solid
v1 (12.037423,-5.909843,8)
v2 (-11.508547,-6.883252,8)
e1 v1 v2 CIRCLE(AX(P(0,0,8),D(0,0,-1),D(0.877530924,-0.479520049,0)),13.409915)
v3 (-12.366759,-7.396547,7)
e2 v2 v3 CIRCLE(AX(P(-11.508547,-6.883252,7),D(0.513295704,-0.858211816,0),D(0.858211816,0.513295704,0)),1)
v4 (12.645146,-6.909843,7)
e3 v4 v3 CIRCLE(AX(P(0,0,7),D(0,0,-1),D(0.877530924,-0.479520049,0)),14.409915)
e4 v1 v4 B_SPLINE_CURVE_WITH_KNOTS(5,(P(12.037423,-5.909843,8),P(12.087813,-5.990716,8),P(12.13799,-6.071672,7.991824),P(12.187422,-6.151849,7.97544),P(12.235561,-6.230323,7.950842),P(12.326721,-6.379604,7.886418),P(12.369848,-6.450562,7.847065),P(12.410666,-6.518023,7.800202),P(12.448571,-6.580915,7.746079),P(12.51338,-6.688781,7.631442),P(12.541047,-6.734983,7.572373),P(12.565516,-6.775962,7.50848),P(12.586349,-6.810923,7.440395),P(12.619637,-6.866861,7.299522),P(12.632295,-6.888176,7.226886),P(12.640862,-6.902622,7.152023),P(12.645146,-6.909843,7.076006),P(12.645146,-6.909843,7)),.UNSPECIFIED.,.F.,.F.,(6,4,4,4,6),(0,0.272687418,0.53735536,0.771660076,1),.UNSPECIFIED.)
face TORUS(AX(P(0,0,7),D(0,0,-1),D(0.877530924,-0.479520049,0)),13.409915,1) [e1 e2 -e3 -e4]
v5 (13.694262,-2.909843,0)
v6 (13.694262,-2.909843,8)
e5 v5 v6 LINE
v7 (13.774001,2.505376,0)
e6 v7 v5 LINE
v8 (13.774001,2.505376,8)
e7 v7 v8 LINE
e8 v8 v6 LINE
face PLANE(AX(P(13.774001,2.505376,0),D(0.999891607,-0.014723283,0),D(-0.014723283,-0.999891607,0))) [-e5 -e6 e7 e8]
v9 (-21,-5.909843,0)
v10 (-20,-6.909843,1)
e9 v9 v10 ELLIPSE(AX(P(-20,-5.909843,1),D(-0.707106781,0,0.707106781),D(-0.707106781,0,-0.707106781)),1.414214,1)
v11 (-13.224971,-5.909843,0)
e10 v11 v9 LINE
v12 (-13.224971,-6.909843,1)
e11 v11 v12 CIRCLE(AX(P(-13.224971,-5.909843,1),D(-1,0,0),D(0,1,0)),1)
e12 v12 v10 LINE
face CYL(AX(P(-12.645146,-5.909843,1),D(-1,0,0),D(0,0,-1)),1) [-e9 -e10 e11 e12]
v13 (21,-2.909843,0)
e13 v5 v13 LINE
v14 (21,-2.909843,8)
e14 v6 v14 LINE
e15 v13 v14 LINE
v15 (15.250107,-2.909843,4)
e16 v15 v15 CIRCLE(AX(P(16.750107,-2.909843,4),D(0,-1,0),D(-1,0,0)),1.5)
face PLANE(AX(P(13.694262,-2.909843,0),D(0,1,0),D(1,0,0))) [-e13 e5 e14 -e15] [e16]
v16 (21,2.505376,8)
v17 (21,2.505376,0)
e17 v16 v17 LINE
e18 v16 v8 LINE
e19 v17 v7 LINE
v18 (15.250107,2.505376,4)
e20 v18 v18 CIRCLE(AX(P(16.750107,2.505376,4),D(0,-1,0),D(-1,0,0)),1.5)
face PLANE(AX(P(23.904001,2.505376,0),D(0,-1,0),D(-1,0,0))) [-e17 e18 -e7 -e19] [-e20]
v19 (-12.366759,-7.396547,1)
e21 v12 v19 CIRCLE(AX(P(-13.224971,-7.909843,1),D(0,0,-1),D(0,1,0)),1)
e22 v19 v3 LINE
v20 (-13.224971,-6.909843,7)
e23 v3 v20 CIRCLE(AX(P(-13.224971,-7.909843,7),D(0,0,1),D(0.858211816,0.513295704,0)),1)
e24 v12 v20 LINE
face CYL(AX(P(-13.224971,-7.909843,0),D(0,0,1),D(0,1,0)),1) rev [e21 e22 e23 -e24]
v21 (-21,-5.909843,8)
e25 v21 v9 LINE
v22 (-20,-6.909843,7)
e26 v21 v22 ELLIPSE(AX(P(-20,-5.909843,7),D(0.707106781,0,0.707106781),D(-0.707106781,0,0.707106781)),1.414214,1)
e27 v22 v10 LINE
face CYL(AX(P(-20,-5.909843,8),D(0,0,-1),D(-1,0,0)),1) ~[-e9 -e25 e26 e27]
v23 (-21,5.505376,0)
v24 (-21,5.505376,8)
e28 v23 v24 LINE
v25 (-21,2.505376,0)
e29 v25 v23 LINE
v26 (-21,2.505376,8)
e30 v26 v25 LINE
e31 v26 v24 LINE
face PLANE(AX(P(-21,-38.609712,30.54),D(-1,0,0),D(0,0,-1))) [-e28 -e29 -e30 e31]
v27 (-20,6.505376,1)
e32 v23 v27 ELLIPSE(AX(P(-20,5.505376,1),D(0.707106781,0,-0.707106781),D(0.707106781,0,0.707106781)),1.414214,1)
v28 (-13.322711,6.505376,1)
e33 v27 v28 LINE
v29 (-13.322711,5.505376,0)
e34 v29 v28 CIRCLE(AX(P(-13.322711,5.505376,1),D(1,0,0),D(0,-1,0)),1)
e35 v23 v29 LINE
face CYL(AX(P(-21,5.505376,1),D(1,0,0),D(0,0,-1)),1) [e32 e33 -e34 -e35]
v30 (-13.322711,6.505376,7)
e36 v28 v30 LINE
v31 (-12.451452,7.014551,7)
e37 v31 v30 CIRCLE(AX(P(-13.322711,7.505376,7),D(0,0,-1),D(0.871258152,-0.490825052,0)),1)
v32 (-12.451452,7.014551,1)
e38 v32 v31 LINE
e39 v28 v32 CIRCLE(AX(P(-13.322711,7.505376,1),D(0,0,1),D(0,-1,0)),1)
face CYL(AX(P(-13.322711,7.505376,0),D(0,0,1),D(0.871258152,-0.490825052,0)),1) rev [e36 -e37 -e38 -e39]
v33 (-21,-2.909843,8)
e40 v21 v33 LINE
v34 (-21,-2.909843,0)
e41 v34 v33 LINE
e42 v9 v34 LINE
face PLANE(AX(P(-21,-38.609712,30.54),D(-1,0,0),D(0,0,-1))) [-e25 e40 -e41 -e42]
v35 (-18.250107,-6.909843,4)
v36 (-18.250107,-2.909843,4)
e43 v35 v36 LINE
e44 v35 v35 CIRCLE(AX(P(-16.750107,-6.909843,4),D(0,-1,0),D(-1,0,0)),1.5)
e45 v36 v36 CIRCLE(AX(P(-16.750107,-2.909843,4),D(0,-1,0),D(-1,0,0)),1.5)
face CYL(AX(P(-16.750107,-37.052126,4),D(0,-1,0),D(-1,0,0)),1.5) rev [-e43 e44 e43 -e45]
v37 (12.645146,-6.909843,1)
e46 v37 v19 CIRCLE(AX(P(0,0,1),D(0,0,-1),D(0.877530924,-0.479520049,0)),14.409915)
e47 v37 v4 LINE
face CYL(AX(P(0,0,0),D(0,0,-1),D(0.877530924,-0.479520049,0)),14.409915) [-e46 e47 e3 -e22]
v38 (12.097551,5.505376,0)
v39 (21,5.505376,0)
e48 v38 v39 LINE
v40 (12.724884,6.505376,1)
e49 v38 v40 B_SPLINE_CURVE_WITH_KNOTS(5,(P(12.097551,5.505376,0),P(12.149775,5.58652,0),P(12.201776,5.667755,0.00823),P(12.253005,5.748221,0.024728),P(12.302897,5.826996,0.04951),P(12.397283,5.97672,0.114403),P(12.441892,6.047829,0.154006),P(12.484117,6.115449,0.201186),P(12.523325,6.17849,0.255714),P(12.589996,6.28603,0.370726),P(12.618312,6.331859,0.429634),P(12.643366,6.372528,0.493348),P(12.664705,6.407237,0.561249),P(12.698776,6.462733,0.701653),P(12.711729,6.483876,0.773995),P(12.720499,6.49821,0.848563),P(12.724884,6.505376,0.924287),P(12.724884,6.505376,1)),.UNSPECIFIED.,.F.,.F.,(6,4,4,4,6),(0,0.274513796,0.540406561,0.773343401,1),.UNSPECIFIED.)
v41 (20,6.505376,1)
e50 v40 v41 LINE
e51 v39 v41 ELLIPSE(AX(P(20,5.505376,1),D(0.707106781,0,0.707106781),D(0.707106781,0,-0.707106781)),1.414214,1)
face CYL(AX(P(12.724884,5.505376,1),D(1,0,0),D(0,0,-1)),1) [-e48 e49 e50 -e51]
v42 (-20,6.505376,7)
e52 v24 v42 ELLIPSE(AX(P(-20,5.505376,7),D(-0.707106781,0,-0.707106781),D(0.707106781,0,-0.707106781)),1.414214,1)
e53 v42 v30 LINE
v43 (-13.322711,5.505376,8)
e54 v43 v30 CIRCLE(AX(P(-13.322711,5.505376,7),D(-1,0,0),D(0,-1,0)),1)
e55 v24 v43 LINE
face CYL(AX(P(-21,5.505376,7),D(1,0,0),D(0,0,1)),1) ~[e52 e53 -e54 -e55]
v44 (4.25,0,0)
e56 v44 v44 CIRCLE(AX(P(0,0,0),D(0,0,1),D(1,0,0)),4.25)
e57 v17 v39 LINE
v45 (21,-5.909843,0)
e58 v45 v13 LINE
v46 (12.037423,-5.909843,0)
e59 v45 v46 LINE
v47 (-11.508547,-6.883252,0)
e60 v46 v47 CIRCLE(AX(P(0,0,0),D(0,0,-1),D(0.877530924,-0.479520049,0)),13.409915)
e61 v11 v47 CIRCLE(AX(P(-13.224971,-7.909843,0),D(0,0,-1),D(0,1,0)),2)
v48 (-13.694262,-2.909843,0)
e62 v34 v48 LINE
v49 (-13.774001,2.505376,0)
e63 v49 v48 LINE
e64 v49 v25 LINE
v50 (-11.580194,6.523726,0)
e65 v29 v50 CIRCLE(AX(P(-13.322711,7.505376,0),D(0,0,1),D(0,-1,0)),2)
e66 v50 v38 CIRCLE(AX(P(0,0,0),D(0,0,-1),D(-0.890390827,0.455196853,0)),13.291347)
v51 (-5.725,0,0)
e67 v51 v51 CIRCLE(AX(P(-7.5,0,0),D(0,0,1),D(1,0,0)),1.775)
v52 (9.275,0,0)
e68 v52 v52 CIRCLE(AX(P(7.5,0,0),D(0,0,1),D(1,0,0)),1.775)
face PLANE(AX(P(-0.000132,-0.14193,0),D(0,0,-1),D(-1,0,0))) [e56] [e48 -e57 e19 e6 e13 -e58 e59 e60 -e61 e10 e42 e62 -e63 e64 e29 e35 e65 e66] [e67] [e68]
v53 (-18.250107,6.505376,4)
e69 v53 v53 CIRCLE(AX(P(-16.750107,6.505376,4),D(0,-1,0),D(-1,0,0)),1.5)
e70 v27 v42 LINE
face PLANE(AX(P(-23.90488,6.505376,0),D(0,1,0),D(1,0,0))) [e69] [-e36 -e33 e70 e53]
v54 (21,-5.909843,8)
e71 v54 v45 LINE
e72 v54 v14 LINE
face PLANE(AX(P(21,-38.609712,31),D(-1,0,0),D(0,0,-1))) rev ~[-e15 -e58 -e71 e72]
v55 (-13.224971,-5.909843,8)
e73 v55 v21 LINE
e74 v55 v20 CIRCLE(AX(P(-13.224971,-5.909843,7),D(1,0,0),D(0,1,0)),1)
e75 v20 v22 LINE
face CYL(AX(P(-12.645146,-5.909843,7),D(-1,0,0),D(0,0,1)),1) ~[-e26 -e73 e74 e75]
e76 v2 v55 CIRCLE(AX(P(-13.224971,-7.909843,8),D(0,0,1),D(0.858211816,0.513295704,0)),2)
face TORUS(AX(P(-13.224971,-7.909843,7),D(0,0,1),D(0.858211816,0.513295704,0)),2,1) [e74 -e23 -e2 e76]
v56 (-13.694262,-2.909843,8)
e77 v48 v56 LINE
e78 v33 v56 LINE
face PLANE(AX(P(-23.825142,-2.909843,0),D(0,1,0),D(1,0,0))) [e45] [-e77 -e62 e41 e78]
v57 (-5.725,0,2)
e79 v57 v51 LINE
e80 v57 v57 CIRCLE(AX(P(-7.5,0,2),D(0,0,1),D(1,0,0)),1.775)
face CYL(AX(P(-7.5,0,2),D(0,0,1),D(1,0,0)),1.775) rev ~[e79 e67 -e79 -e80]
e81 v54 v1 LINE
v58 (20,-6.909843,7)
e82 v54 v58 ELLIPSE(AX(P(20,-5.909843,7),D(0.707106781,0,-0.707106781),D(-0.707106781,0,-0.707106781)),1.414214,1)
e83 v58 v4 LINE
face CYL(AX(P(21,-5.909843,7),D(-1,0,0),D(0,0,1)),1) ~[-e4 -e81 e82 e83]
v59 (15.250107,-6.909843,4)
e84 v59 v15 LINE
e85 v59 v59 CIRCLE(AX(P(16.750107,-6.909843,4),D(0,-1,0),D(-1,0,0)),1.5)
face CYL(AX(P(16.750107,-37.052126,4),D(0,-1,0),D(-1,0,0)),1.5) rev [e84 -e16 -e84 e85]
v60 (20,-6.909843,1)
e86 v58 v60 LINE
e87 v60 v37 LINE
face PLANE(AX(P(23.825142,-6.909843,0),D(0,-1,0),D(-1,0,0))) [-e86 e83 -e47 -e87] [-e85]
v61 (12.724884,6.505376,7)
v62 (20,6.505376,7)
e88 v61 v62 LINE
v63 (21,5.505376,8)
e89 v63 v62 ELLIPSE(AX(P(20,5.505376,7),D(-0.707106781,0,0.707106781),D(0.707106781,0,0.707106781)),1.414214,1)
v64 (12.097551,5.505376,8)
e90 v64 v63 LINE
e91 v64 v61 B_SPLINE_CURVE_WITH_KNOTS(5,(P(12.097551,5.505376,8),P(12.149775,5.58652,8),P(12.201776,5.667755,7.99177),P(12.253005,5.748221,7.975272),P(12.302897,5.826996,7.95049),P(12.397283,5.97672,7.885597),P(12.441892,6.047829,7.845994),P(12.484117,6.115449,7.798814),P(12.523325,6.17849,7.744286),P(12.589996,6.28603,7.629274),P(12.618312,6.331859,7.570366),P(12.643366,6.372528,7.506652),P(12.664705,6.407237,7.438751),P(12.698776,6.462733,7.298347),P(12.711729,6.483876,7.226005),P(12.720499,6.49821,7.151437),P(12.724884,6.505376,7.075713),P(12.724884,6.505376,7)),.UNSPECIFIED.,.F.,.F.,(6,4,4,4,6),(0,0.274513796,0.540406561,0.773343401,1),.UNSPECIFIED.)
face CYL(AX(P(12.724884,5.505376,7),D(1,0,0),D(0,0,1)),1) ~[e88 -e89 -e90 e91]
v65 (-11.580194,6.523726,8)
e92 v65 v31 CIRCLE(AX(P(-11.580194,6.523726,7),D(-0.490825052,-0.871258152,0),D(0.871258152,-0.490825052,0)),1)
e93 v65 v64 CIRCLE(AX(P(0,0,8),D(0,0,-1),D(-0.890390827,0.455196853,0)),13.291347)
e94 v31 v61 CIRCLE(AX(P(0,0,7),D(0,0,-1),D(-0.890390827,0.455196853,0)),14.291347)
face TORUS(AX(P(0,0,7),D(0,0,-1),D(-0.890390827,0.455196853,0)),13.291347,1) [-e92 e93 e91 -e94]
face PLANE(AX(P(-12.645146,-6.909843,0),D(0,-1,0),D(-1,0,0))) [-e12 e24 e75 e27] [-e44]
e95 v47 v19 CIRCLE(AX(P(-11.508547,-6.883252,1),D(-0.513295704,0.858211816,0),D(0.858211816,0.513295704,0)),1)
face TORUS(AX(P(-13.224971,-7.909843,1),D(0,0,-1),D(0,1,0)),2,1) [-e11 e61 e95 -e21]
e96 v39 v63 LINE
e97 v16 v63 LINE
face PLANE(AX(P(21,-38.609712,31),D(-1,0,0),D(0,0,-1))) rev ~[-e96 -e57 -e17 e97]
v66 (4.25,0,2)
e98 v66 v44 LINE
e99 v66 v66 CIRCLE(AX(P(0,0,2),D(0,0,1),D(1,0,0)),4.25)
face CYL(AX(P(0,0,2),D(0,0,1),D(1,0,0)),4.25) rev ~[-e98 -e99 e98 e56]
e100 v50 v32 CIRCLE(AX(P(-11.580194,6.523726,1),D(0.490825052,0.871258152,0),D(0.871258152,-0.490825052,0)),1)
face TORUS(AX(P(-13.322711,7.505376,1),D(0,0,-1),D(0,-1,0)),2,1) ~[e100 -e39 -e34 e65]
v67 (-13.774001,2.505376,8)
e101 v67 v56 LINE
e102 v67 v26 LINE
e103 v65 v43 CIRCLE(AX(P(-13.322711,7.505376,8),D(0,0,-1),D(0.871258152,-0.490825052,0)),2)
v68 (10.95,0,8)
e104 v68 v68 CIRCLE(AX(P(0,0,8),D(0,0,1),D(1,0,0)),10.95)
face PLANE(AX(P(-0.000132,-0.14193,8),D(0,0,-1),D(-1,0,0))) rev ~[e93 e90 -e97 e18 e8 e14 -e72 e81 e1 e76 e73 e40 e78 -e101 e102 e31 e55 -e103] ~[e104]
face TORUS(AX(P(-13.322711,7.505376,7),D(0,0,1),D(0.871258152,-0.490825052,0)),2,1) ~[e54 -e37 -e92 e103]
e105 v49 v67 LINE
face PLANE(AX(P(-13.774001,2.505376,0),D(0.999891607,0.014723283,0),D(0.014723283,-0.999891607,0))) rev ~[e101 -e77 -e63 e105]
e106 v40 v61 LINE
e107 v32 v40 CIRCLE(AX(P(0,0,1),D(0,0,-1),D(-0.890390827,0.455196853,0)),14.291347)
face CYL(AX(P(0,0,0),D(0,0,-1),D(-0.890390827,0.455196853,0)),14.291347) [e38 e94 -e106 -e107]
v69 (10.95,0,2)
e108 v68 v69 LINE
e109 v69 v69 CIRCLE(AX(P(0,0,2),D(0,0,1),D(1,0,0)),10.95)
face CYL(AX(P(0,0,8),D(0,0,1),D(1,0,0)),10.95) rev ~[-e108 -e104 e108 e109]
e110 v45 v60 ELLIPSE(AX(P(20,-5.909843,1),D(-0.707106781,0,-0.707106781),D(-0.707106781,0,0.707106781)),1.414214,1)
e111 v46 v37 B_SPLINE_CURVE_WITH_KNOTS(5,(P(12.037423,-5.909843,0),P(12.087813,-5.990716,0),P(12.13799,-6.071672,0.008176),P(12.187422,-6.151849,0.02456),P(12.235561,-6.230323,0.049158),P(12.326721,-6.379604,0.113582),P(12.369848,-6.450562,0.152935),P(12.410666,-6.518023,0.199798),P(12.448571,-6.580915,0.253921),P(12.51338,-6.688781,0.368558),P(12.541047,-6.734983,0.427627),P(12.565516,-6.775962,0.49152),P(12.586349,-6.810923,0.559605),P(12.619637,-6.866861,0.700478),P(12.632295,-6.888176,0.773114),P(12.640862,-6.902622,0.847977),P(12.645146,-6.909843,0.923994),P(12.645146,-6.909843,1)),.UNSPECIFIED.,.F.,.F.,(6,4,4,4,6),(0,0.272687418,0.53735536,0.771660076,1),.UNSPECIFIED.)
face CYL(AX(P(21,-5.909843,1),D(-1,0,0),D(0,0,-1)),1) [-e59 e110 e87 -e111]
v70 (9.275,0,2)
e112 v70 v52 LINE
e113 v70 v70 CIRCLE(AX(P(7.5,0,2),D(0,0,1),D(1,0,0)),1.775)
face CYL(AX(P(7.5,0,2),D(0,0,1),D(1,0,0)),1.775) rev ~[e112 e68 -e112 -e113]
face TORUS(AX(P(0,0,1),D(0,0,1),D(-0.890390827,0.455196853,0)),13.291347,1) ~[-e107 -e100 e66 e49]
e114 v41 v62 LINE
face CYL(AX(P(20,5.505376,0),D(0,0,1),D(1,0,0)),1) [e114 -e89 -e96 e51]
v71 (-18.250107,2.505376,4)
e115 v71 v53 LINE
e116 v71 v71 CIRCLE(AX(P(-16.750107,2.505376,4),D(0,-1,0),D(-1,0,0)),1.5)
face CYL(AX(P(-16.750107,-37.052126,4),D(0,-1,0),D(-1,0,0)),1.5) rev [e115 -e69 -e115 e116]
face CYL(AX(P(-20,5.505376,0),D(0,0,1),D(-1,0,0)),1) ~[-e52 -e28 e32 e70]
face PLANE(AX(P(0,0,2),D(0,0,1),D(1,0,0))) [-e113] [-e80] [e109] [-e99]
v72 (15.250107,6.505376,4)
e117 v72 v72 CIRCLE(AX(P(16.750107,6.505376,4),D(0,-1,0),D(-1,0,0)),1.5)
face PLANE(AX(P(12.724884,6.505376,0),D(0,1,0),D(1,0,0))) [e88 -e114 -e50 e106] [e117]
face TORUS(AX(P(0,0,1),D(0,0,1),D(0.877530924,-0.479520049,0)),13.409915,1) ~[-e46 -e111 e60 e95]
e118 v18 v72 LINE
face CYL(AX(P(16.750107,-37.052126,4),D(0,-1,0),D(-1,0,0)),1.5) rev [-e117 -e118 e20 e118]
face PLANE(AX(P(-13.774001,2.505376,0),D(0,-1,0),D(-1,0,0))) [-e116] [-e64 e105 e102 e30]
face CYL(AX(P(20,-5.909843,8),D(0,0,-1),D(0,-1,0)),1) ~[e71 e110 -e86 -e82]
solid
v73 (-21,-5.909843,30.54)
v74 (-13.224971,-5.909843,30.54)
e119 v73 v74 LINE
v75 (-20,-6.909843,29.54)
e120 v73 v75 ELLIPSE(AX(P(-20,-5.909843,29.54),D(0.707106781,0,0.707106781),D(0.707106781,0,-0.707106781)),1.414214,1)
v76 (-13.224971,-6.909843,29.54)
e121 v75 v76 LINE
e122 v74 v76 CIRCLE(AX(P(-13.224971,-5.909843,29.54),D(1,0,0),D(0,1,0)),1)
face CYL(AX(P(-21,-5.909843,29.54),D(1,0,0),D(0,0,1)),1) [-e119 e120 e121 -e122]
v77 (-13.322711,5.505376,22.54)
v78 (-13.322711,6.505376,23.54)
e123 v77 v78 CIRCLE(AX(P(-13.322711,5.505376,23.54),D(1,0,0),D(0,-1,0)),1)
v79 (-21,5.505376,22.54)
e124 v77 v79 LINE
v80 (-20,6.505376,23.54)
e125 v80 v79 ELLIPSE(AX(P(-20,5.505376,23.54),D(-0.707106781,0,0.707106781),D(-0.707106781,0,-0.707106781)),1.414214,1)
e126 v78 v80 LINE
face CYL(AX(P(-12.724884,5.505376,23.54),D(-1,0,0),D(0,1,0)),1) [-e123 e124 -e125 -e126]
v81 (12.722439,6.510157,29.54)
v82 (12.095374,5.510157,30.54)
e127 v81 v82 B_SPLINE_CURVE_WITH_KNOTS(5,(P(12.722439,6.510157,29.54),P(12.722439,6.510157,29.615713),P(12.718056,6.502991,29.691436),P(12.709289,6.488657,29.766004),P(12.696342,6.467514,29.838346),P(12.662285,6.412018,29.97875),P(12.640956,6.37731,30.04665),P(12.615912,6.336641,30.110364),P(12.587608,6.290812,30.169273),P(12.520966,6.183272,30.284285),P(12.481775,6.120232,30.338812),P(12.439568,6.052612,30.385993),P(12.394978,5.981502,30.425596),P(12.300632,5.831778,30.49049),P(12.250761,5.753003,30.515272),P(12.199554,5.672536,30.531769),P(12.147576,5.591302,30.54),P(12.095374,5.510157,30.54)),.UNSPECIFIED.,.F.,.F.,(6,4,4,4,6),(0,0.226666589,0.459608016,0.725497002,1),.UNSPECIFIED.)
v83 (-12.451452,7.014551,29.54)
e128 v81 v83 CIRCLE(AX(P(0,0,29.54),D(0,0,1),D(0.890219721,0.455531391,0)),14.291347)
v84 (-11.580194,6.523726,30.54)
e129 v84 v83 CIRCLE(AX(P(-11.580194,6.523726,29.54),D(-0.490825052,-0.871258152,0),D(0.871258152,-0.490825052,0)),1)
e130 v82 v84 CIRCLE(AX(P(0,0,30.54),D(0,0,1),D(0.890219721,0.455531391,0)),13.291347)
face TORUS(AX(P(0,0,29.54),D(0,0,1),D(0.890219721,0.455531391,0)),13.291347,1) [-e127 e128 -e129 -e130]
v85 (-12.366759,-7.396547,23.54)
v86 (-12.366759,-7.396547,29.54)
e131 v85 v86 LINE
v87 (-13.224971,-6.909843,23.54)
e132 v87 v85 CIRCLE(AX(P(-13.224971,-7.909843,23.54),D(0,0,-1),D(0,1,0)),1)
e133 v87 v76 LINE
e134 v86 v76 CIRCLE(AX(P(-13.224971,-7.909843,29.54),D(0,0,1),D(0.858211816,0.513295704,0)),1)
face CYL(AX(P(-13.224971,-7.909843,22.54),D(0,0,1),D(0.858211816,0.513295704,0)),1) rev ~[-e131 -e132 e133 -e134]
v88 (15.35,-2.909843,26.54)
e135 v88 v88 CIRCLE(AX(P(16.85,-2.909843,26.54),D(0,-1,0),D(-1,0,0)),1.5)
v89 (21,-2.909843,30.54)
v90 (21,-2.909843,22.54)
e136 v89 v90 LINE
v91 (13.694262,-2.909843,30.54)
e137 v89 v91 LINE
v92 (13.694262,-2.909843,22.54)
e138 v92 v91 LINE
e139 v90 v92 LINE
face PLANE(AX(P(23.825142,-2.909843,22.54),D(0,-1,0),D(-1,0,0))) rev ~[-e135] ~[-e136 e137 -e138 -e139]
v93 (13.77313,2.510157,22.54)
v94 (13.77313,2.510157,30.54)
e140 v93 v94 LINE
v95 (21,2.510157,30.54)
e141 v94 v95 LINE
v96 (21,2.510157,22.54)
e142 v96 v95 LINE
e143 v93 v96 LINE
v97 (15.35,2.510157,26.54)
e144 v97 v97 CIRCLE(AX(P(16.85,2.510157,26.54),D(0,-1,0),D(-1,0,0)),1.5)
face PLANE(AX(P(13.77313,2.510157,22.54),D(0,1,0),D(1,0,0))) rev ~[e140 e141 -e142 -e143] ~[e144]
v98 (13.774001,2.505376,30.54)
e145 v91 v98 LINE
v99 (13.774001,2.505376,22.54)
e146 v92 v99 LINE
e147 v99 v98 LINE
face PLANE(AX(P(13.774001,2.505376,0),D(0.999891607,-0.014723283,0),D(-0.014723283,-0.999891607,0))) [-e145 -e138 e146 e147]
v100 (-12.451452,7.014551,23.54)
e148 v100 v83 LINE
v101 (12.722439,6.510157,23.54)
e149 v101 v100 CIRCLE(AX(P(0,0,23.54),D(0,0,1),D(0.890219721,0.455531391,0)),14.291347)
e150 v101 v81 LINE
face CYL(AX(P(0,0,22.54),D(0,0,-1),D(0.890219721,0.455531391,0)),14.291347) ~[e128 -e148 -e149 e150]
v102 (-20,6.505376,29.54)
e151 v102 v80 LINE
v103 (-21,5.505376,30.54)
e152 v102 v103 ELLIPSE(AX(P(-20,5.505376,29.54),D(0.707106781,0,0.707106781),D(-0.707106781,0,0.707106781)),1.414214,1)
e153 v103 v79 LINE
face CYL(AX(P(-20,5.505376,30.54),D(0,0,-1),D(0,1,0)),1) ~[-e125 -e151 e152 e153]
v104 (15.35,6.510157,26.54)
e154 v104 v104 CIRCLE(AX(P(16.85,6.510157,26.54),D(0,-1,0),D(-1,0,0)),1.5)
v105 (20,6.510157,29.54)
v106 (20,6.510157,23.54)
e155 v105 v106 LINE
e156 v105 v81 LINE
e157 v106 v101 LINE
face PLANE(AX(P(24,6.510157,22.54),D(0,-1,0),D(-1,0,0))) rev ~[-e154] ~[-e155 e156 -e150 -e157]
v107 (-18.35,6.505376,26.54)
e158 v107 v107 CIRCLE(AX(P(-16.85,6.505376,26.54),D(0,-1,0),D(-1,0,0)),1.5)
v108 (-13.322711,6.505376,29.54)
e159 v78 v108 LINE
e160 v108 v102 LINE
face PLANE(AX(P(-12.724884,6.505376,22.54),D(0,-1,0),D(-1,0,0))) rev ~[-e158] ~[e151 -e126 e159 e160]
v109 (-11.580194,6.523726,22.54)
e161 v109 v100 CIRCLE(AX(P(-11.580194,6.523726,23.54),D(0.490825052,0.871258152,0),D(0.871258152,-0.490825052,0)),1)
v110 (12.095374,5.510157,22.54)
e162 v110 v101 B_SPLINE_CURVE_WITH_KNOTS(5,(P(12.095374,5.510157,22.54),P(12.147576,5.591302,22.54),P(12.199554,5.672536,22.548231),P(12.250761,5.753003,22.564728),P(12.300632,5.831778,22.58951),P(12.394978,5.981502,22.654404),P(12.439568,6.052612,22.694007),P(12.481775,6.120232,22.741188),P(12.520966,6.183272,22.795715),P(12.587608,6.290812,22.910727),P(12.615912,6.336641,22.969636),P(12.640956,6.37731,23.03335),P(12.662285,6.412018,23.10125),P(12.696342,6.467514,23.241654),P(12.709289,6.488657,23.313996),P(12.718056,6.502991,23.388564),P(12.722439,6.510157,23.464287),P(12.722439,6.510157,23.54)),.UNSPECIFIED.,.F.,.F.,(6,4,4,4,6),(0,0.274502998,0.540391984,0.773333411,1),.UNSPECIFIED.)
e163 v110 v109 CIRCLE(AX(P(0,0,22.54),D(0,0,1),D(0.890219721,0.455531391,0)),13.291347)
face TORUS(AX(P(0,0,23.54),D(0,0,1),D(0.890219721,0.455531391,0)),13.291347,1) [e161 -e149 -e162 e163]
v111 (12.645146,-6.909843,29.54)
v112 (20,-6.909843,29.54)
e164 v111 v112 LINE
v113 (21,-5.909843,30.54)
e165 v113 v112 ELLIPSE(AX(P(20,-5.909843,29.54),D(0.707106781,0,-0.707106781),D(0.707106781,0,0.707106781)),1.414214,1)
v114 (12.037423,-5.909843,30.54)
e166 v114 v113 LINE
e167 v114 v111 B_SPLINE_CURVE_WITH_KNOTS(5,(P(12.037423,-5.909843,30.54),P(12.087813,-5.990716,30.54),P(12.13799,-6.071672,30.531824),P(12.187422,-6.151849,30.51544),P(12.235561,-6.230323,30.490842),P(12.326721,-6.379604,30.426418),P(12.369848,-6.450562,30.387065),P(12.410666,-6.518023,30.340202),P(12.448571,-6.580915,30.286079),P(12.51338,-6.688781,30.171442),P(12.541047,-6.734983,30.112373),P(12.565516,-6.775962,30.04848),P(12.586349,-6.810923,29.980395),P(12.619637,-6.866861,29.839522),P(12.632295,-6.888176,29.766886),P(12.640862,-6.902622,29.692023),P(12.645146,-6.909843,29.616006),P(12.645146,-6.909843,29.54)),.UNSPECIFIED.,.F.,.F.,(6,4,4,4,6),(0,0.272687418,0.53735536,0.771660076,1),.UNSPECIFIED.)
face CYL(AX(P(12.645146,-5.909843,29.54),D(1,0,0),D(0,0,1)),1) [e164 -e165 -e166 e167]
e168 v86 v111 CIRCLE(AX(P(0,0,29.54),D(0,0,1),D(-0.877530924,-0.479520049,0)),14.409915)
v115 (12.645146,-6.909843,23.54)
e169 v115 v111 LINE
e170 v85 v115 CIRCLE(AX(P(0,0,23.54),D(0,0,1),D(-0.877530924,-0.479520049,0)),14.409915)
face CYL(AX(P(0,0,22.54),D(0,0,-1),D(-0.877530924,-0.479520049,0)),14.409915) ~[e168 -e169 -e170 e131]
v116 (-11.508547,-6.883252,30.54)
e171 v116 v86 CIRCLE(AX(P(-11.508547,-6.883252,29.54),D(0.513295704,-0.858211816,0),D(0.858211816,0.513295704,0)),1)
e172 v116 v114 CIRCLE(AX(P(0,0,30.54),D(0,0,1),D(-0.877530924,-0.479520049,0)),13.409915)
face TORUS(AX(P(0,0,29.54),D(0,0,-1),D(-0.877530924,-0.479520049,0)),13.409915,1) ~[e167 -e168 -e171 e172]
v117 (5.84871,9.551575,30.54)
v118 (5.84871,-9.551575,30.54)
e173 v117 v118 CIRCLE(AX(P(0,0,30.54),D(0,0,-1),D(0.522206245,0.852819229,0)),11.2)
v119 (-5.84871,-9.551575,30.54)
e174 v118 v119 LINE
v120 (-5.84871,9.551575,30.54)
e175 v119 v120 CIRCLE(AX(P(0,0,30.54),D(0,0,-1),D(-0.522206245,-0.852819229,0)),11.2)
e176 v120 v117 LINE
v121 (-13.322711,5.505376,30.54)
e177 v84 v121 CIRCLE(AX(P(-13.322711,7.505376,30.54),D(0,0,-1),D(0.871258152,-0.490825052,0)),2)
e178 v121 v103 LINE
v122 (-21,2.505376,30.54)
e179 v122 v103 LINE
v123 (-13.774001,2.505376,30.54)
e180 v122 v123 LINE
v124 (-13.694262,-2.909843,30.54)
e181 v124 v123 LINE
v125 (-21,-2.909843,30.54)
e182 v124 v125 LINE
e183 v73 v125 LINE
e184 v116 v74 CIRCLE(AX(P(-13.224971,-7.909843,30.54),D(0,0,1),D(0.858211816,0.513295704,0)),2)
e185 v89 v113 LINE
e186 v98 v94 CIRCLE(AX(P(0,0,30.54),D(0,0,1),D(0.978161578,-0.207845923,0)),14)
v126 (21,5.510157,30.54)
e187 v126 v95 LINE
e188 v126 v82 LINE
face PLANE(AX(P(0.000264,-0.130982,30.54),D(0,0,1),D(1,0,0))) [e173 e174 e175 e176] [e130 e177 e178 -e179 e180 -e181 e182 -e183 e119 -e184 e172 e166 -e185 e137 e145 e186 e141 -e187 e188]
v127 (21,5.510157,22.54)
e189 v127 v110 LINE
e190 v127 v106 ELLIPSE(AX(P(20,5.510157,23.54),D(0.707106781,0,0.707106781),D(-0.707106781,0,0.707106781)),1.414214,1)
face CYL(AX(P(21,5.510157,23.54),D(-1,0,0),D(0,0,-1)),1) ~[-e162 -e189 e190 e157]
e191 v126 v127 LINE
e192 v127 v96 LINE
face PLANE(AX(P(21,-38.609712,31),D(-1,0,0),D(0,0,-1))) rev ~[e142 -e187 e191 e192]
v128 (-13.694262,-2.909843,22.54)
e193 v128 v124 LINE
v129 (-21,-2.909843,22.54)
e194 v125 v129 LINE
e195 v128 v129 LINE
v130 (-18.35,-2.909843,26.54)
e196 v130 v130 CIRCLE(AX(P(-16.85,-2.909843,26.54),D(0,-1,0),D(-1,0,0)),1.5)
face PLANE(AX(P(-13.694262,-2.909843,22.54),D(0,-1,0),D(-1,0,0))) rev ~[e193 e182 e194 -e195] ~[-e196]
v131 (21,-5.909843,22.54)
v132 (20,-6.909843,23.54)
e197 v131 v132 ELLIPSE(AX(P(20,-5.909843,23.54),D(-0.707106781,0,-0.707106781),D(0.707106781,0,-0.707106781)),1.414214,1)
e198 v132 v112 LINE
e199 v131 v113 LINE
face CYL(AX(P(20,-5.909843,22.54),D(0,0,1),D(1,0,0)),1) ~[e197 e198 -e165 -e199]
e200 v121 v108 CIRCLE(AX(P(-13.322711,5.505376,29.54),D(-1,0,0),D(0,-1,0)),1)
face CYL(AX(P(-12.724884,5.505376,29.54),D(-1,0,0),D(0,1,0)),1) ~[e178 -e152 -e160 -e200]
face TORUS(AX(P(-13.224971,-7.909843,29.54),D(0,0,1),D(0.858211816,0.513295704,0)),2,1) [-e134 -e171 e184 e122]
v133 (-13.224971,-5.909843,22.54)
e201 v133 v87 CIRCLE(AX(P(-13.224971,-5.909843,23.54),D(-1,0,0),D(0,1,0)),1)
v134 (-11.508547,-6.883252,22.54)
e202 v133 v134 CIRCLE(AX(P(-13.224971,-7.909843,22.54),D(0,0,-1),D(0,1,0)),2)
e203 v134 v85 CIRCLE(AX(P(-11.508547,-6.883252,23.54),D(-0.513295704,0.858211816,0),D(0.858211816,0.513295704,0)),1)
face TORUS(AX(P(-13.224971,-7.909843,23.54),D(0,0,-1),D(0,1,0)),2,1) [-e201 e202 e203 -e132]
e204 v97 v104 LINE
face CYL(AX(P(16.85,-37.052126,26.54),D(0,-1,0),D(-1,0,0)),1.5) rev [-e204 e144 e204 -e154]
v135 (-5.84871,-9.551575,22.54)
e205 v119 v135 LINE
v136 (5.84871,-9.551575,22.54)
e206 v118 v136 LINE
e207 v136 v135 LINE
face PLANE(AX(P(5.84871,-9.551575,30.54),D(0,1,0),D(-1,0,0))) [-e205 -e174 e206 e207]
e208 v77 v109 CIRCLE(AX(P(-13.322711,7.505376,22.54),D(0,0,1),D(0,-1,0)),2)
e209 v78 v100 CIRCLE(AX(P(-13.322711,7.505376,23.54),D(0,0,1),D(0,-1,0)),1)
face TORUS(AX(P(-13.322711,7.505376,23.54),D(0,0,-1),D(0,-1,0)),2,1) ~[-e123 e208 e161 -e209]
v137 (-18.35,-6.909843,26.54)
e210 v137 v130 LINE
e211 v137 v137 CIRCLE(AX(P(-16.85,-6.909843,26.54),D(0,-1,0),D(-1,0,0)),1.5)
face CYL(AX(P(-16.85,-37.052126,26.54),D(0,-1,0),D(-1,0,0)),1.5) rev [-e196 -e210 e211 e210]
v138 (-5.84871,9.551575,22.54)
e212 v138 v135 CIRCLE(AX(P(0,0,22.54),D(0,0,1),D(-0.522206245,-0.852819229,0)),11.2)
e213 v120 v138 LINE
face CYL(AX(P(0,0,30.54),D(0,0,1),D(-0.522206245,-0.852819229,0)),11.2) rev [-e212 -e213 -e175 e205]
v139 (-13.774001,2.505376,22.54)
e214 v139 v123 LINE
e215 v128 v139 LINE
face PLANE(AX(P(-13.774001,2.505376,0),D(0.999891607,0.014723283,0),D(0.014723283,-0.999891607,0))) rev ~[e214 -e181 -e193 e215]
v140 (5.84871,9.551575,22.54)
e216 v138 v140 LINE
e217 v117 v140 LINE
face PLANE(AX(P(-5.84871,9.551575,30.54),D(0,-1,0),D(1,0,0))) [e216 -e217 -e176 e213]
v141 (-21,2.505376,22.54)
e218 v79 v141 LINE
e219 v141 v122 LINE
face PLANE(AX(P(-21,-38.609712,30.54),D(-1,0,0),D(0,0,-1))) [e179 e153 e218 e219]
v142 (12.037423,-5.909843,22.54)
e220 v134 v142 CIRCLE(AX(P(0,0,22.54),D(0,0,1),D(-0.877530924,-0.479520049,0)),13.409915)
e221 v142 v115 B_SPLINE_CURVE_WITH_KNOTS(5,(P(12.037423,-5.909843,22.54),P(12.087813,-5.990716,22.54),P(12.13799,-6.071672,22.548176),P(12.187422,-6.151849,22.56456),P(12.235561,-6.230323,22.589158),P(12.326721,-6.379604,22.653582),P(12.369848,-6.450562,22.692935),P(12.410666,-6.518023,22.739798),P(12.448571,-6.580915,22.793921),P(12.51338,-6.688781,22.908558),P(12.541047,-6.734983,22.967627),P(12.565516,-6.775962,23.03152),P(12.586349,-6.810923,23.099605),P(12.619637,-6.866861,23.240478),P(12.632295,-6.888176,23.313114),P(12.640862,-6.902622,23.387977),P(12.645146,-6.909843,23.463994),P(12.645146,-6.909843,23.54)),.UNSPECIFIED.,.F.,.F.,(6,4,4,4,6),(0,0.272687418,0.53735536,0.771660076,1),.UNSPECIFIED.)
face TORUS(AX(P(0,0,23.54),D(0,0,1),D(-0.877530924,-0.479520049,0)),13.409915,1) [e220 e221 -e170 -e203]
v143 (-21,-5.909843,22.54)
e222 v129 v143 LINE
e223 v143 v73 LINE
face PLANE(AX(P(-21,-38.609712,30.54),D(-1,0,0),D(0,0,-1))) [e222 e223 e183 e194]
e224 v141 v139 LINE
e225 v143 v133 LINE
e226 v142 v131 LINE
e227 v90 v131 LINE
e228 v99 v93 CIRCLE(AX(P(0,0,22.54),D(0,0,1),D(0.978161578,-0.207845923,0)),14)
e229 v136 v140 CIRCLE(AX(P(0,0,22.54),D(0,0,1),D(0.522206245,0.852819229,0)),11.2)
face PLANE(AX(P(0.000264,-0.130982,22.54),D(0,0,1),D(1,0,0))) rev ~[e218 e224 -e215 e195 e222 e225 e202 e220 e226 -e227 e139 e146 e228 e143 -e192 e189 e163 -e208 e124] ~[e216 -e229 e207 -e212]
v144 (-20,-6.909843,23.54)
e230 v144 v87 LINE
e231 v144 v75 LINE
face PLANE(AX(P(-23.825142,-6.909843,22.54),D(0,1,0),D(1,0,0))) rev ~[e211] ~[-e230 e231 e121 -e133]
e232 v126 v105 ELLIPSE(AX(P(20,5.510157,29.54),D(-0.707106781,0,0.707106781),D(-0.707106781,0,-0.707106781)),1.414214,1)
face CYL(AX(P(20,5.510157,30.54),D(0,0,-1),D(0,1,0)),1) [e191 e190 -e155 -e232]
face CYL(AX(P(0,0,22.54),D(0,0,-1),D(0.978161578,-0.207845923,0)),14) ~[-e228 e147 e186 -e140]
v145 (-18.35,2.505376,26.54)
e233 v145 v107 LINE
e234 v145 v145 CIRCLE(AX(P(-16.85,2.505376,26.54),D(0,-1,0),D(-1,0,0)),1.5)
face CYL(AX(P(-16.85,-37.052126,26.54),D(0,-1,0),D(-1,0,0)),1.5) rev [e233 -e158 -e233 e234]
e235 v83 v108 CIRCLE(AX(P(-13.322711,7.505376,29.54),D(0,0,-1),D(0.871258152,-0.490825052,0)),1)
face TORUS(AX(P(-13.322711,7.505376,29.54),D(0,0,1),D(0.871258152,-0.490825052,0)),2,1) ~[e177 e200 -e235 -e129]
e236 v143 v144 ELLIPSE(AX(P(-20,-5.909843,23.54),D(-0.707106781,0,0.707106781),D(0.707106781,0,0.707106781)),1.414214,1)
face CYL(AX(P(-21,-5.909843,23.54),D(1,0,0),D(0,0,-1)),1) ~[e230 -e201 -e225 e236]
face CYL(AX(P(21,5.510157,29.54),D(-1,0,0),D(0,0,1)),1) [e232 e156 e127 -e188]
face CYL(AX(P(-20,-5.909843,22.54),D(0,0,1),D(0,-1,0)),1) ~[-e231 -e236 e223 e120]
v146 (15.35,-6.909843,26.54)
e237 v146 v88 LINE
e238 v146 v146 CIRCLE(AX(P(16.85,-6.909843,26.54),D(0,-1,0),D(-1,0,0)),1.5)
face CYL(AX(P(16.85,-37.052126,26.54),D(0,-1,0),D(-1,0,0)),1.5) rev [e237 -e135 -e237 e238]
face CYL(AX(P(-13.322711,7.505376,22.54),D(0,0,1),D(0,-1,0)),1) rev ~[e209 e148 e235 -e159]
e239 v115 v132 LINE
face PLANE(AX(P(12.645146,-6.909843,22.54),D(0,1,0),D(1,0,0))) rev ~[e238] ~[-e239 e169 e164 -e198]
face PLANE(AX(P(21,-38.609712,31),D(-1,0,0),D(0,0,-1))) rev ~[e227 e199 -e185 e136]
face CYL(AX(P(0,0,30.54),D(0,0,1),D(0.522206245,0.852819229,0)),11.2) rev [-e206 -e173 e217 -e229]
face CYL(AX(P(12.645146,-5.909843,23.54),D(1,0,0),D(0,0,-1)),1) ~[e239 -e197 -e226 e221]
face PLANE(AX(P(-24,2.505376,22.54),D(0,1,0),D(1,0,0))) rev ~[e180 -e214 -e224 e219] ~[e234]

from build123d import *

# Parameters (mm, degrees)
SALIENTE_EXTRUIR1_DEPTH     = 8
CROQUIS2_R                  = 10.95
CORTAR_EXTRUIR1_DEPTH       = 6
CROQUIS3_R                  = 4.25
CROQUIS3_R_2                = 1.775
CORTAR_EXTRUIR2_DEPTH       = 3.5
SALIENTE_EXTRUIR3_DEPTH     = 8
CORTAR_EXTRUIR8_DEPTH       = 10
CORTAR_EXTRUIR9_DEPTH       = 45.115087908
CORTAR_EXTRUIR9_DEPTH_BACK  = 45.115087908
CROQUIS11_W                 = 3
CROQUIS11_H                 = 31
CROQUIS11_H_2               = 30.54
CORTAR_EXTRUIR10_DEPTH      = 43.557502055
CORTAR_EXTRUIR10_DEPTH_BACK = 43.557502055
CROQUIS8_R                  = 1.5
REDONDEO1_R                 = 1
REDONDEO2_R                 = 1
CORTAR_EXTRUIR11_DEPTH      = 40.766031359


with BuildPart() as part:
    # Croquis1 → Saliente-Extruir1 (new body)
    with BuildSketch(Plane.XY):
        with BuildLine():
            Line((-13.774000535, 2.505376075), (-23.904880159, 2.505376075))
            Line((-23.904880159, 2.505376075), (-23.904880159, 6.505376075))
            Line((-23.904880159, 6.505376075), (-12.724884059, 6.505376075))
            ThreePointArc((-12.724884059, 6.505376075), (0, 14.291346759), (12.724884059, 6.505376075))
            Line((12.724884059, 6.505376075), (23.904880159, 6.505376075))
            Line((23.904880159, 6.505376075), (23.904000535, 2.505376075))
            Line((23.904000535, 2.505376075), (13.774000535, 2.505376075))
            ThreePointArc((13.774000535, 2.505376075), (13.998482492, -0.206125965), (13.694262089, -2.909842925))
            Line((13.694262089, -2.909842925), (23.825141713, -2.909842925))
            Line((23.825141713, -2.909842925), (23.825141713, -6.909842925))
            Line((23.825141713, -6.909842925), (12.645145613, -6.909842925))
            ThreePointArc((12.645145613, -6.909842925), (0, -14.409914532), (-12.645145613, -6.909842925))
            Line((-12.645145613, -6.909842925), (-23.825141713, -6.909842925))
            Line((-23.825141713, -6.909842925), (-23.825141713, -2.909842925))
            Line((-23.825141713, -2.909842925), (-13.694262089, -2.909842925))
            ThreePointArc((-13.694262089, -2.909842925), (-13.998482492, -0.206125965), (-13.774000535, 2.505376075))
        make_face()
    extrude(amount=SALIENTE_EXTRUIR1_DEPTH)

    # Croquis2 → Cortar-Extruir1 (cut)
    with BuildSketch(Plane.XY.offset(8)):
        Circle(CROQUIS2_R)
    extrude(amount=-CORTAR_EXTRUIR1_DEPTH, mode=Mode.SUBTRACT)

    # Croquis3 → Cortar-Extruir2 (cut)
    with BuildSketch(Plane.XY.offset(2)):
        Circle(CROQUIS3_R)
        with Locations((-7.5, 0)):
            Circle(CROQUIS3_R_2)
        with Locations((7.5, 0)):
            Circle(CROQUIS3_R_2)
    extrude(amount=-CORTAR_EXTRUIR2_DEPTH, mode=Mode.SUBTRACT)


with BuildPart() as body_2:
    # Croquis6 → Saliente-Extruir3 (new body)
    with BuildSketch(Plane.XY.offset(22.54)):
        with BuildLine():
            Line((-12.724884059, 6.505376075), (-24, 6.505376075))
            Line((-24, 6.505376075), (-24, 2.505376075))
            Line((-24, 2.505376075), (-13.774000535, 2.505376075))
            ThreePointArc((-13.774000535, 2.505376075), (-13.998482492, -0.206125965), (-13.694262089, -2.909842925))
            Line((-13.694262089, -2.909842925), (-23.825141713, -2.909842925))
            Line((-23.825141713, -2.909842925), (-23.825141713, -6.909842925))
            Line((-23.825141713, -6.909842925), (-12.645145613, -6.909842925))
            ThreePointArc((-12.645145613, -6.909842925), (0, -14.409914532), (12.645145613, -6.909842925))
            Line((12.645145613, -6.909842925), (23.825141713, -6.909842925))
            Line((23.825141713, -6.909842925), (23.825141713, -2.909842925))
            Line((23.825141713, -2.909842925), (13.694262089, -2.909842925))
            ThreePointArc((13.694262089, -2.909842925), (13.998518056, -0.203696426), (13.773130053, 2.510157075))
            Line((13.773130053, 2.510157075), (24, 2.510157075))
            Line((24, 2.510157075), (24, 6.510157075))
            Line((24, 6.510157075), (12.722438722, 6.510157075))
            ThreePointArc((12.722438722, 6.510157075), (-0.002685034, 14.291346507), (-12.724884059, 6.505376075))
        make_face()
    extrude(amount=SALIENTE_EXTRUIR3_DEPTH)

    # Croquis7 → Cortar-Extruir8 (cut)
    with BuildSketch(Plane.XY.offset(30.54)):
        with BuildLine():
            Line((-5.848709946, 9.551575366), (5.848709946, 9.551575366))
            ThreePointArc((5.848709946, 9.551575366), (11.2, 0), (5.848709946, -9.551575366))
            Line((5.848709946, -9.551575366), (-5.848709946, -9.551575366))
            ThreePointArc((-5.848709946, -9.551575366), (-11.2, 0), (-5.848709946, 9.551575366))
        make_face()
    extrude(amount=-CORTAR_EXTRUIR8_DEPTH, mode=Mode.SUBTRACT)


with BuildPart() as cortar_extruir9_tool:
    # Croquis11 → Cortar-Extruir9 (new, two sides: drawn at the far end of the back side and taken through both)
    with BuildSketch(Plane(origin=(0, 6.505376075, 0), x_dir=(1, 0, 0), z_dir=(0, 1, 0)).offset(-CORTAR_EXTRUIR9_DEPTH_BACK)):
        with Locations((22.5, -15.5)):
            Rectangle(CROQUIS11_W, CROQUIS11_H)
        with Locations((-22.5, -15.27)):
            Rectangle(CROQUIS11_W, CROQUIS11_H_2)
    extrude(amount=CORTAR_EXTRUIR9_DEPTH + CORTAR_EXTRUIR9_DEPTH_BACK)


with BuildPart() as part_1:
    add(part.part)

    # Cortar-Extruir9: cut by cortar_extruir9_tool
    add(cortar_extruir9_tool.part, mode=Mode.SUBTRACT)


with BuildPart() as body_2_1:
    add(body_2.part)

    # Cortar-Extruir9: cut by cortar_extruir9_tool
    add(cortar_extruir9_tool.part, mode=Mode.SUBTRACT)


with BuildPart() as cortar_extruir10_tool:
    # Croquis8 → Cortar-Extruir10 (new, two sides: drawn at the far end of the back side and taken through both)
    with BuildSketch(Plane(origin=(0, 6.505376075, 0), x_dir=(1, 0, 0), z_dir=(0, 1, 0)).offset(-CORTAR_EXTRUIR10_DEPTH_BACK)):
        with Locations(Location((16.85, -26.54, 0), (0, 0, 180))):
            Circle(CROQUIS8_R)
        with Locations(Location((16.750107191, -4, 0), (0, 0, 180))):
            Circle(CROQUIS8_R)
        with Locations(Location((-16.750107191, -4, 0), (0, 0, 180))):
            Circle(CROQUIS8_R)
        with Locations(Location((-16.85, -26.54, 0), (0, 0, 180))):
            Circle(CROQUIS8_R)
    extrude(amount=CORTAR_EXTRUIR10_DEPTH + CORTAR_EXTRUIR10_DEPTH_BACK)


with BuildPart() as part_2:
    add(part_1.part)

    # Cortar-Extruir10: cut by cortar_extruir10_tool
    add(cortar_extruir10_tool.part, mode=Mode.SUBTRACT)

    # Redondeo1
    redondeo1_edges = [part_2.edges().sort_by_distance(p)[0] for p in [
        (16.822572806, -6.909842925, 0),
        (0, -14.409914532, 0),
        (-16.862442029, 6.505376075, 0),
        (0, 14.291346759, 0),
        (-12.645145613, -6.909842925, 4),
        (-12.724884059, 6.505376075, 4),
        (0, -14.409914532, 8),
        (16.822572806, -6.909842925, 8),
        (0, 14.291346759, 8),
        (16.862442029, 6.505376075, 0),
        (-16.822572806, -6.909842925, 0),
        (-16.862442029, 6.505376075, 8),
        (-16.822572806, -6.909842925, 8),
        (16.862442029, 6.505376075, 8),
        (-21, -6.909842925, 4),
        (-21, 6.505376075, 4),
        (21, 6.505376075, 4),
        (21, -6.909842925, 4),
    ]]
    fillet(redondeo1_edges, radius=REDONDEO1_R)


with BuildPart() as body_2_2:
    add(body_2_1.part)

    # Cortar-Extruir10: cut by cortar_extruir10_tool
    add(cortar_extruir10_tool.part, mode=Mode.SUBTRACT)

    # Redondeo2
    redondeo2_edges = [body_2_2.edges().sort_by_distance(p)[0] for p in [
        (16.822572806, -6.909842925, 22.54),
        (0, -14.409914532, 22.54),
        (-16.862442029, 6.505376075, 22.54),
        (-0.002685034, 14.291346507, 22.54),
        (-12.645145613, -6.909842925, 26.54),
        (-12.724884059, 6.505376075, 26.54),
        (0, -14.409914532, 30.54),
        (16.822572806, -6.909842925, 30.54),
        (-0.002685034, 14.291346507, 30.54),
        (16.861219361, 6.510157075, 22.54),
        (-16.822572806, -6.909842925, 22.54),
        (-16.862442029, 6.505376075, 30.54),
        (-16.822572806, -6.909842925, 30.54),
        (16.861219361, 6.510157075, 30.54),
        (-21, -6.909842925, 26.54),
        (-21, 6.505376075, 26.54),
        (21, 6.510157075, 26.54),
        (21, -6.909842925, 26.54),
    ]]
    fillet(redondeo2_edges, radius=REDONDEO2_R)


with BuildPart() as cortar_extruir11_tool:
    # Croquis12 → Cortar-Extruir11 (new, through all)
    with BuildSketch(Plane(origin=(0, 0, 0), x_dir=(-1, 0, 0), z_dir=(0, 0, -1))):
        with BuildLine():
            Line((-13.774000535, 2.505376075), (-13.694262089, -2.909842925))
            ThreePointArc((-13.694262089, -2.909842925), (-13.998482492, -0.206125965), (-13.774000535, 2.505376075))
        make_face()
        with BuildLine():
            Line((13.774000535, 2.505376075), (13.694262089, -2.909842925))
            ThreePointArc((13.694262089, -2.909842925), (13.998482492, -0.206125965), (13.774000535, 2.505376075))
        make_face()
    extrude(amount=-CORTAR_EXTRUIR11_DEPTH)


with BuildPart() as part_3:
    add(part_2.part)

    # Cortar-Extruir11: cut by cortar_extruir11_tool
    add(cortar_extruir11_tool.part, mode=Mode.SUBTRACT)


with BuildPart() as body_2_3:
    add(body_2_2.part)

    # Cortar-Extruir11: cut by cortar_extruir11_tool
    add(cortar_extruir11_tool.part, mode=Mode.SUBTRACT)


solid = Compound([part_3.part, body_2_3.part])
